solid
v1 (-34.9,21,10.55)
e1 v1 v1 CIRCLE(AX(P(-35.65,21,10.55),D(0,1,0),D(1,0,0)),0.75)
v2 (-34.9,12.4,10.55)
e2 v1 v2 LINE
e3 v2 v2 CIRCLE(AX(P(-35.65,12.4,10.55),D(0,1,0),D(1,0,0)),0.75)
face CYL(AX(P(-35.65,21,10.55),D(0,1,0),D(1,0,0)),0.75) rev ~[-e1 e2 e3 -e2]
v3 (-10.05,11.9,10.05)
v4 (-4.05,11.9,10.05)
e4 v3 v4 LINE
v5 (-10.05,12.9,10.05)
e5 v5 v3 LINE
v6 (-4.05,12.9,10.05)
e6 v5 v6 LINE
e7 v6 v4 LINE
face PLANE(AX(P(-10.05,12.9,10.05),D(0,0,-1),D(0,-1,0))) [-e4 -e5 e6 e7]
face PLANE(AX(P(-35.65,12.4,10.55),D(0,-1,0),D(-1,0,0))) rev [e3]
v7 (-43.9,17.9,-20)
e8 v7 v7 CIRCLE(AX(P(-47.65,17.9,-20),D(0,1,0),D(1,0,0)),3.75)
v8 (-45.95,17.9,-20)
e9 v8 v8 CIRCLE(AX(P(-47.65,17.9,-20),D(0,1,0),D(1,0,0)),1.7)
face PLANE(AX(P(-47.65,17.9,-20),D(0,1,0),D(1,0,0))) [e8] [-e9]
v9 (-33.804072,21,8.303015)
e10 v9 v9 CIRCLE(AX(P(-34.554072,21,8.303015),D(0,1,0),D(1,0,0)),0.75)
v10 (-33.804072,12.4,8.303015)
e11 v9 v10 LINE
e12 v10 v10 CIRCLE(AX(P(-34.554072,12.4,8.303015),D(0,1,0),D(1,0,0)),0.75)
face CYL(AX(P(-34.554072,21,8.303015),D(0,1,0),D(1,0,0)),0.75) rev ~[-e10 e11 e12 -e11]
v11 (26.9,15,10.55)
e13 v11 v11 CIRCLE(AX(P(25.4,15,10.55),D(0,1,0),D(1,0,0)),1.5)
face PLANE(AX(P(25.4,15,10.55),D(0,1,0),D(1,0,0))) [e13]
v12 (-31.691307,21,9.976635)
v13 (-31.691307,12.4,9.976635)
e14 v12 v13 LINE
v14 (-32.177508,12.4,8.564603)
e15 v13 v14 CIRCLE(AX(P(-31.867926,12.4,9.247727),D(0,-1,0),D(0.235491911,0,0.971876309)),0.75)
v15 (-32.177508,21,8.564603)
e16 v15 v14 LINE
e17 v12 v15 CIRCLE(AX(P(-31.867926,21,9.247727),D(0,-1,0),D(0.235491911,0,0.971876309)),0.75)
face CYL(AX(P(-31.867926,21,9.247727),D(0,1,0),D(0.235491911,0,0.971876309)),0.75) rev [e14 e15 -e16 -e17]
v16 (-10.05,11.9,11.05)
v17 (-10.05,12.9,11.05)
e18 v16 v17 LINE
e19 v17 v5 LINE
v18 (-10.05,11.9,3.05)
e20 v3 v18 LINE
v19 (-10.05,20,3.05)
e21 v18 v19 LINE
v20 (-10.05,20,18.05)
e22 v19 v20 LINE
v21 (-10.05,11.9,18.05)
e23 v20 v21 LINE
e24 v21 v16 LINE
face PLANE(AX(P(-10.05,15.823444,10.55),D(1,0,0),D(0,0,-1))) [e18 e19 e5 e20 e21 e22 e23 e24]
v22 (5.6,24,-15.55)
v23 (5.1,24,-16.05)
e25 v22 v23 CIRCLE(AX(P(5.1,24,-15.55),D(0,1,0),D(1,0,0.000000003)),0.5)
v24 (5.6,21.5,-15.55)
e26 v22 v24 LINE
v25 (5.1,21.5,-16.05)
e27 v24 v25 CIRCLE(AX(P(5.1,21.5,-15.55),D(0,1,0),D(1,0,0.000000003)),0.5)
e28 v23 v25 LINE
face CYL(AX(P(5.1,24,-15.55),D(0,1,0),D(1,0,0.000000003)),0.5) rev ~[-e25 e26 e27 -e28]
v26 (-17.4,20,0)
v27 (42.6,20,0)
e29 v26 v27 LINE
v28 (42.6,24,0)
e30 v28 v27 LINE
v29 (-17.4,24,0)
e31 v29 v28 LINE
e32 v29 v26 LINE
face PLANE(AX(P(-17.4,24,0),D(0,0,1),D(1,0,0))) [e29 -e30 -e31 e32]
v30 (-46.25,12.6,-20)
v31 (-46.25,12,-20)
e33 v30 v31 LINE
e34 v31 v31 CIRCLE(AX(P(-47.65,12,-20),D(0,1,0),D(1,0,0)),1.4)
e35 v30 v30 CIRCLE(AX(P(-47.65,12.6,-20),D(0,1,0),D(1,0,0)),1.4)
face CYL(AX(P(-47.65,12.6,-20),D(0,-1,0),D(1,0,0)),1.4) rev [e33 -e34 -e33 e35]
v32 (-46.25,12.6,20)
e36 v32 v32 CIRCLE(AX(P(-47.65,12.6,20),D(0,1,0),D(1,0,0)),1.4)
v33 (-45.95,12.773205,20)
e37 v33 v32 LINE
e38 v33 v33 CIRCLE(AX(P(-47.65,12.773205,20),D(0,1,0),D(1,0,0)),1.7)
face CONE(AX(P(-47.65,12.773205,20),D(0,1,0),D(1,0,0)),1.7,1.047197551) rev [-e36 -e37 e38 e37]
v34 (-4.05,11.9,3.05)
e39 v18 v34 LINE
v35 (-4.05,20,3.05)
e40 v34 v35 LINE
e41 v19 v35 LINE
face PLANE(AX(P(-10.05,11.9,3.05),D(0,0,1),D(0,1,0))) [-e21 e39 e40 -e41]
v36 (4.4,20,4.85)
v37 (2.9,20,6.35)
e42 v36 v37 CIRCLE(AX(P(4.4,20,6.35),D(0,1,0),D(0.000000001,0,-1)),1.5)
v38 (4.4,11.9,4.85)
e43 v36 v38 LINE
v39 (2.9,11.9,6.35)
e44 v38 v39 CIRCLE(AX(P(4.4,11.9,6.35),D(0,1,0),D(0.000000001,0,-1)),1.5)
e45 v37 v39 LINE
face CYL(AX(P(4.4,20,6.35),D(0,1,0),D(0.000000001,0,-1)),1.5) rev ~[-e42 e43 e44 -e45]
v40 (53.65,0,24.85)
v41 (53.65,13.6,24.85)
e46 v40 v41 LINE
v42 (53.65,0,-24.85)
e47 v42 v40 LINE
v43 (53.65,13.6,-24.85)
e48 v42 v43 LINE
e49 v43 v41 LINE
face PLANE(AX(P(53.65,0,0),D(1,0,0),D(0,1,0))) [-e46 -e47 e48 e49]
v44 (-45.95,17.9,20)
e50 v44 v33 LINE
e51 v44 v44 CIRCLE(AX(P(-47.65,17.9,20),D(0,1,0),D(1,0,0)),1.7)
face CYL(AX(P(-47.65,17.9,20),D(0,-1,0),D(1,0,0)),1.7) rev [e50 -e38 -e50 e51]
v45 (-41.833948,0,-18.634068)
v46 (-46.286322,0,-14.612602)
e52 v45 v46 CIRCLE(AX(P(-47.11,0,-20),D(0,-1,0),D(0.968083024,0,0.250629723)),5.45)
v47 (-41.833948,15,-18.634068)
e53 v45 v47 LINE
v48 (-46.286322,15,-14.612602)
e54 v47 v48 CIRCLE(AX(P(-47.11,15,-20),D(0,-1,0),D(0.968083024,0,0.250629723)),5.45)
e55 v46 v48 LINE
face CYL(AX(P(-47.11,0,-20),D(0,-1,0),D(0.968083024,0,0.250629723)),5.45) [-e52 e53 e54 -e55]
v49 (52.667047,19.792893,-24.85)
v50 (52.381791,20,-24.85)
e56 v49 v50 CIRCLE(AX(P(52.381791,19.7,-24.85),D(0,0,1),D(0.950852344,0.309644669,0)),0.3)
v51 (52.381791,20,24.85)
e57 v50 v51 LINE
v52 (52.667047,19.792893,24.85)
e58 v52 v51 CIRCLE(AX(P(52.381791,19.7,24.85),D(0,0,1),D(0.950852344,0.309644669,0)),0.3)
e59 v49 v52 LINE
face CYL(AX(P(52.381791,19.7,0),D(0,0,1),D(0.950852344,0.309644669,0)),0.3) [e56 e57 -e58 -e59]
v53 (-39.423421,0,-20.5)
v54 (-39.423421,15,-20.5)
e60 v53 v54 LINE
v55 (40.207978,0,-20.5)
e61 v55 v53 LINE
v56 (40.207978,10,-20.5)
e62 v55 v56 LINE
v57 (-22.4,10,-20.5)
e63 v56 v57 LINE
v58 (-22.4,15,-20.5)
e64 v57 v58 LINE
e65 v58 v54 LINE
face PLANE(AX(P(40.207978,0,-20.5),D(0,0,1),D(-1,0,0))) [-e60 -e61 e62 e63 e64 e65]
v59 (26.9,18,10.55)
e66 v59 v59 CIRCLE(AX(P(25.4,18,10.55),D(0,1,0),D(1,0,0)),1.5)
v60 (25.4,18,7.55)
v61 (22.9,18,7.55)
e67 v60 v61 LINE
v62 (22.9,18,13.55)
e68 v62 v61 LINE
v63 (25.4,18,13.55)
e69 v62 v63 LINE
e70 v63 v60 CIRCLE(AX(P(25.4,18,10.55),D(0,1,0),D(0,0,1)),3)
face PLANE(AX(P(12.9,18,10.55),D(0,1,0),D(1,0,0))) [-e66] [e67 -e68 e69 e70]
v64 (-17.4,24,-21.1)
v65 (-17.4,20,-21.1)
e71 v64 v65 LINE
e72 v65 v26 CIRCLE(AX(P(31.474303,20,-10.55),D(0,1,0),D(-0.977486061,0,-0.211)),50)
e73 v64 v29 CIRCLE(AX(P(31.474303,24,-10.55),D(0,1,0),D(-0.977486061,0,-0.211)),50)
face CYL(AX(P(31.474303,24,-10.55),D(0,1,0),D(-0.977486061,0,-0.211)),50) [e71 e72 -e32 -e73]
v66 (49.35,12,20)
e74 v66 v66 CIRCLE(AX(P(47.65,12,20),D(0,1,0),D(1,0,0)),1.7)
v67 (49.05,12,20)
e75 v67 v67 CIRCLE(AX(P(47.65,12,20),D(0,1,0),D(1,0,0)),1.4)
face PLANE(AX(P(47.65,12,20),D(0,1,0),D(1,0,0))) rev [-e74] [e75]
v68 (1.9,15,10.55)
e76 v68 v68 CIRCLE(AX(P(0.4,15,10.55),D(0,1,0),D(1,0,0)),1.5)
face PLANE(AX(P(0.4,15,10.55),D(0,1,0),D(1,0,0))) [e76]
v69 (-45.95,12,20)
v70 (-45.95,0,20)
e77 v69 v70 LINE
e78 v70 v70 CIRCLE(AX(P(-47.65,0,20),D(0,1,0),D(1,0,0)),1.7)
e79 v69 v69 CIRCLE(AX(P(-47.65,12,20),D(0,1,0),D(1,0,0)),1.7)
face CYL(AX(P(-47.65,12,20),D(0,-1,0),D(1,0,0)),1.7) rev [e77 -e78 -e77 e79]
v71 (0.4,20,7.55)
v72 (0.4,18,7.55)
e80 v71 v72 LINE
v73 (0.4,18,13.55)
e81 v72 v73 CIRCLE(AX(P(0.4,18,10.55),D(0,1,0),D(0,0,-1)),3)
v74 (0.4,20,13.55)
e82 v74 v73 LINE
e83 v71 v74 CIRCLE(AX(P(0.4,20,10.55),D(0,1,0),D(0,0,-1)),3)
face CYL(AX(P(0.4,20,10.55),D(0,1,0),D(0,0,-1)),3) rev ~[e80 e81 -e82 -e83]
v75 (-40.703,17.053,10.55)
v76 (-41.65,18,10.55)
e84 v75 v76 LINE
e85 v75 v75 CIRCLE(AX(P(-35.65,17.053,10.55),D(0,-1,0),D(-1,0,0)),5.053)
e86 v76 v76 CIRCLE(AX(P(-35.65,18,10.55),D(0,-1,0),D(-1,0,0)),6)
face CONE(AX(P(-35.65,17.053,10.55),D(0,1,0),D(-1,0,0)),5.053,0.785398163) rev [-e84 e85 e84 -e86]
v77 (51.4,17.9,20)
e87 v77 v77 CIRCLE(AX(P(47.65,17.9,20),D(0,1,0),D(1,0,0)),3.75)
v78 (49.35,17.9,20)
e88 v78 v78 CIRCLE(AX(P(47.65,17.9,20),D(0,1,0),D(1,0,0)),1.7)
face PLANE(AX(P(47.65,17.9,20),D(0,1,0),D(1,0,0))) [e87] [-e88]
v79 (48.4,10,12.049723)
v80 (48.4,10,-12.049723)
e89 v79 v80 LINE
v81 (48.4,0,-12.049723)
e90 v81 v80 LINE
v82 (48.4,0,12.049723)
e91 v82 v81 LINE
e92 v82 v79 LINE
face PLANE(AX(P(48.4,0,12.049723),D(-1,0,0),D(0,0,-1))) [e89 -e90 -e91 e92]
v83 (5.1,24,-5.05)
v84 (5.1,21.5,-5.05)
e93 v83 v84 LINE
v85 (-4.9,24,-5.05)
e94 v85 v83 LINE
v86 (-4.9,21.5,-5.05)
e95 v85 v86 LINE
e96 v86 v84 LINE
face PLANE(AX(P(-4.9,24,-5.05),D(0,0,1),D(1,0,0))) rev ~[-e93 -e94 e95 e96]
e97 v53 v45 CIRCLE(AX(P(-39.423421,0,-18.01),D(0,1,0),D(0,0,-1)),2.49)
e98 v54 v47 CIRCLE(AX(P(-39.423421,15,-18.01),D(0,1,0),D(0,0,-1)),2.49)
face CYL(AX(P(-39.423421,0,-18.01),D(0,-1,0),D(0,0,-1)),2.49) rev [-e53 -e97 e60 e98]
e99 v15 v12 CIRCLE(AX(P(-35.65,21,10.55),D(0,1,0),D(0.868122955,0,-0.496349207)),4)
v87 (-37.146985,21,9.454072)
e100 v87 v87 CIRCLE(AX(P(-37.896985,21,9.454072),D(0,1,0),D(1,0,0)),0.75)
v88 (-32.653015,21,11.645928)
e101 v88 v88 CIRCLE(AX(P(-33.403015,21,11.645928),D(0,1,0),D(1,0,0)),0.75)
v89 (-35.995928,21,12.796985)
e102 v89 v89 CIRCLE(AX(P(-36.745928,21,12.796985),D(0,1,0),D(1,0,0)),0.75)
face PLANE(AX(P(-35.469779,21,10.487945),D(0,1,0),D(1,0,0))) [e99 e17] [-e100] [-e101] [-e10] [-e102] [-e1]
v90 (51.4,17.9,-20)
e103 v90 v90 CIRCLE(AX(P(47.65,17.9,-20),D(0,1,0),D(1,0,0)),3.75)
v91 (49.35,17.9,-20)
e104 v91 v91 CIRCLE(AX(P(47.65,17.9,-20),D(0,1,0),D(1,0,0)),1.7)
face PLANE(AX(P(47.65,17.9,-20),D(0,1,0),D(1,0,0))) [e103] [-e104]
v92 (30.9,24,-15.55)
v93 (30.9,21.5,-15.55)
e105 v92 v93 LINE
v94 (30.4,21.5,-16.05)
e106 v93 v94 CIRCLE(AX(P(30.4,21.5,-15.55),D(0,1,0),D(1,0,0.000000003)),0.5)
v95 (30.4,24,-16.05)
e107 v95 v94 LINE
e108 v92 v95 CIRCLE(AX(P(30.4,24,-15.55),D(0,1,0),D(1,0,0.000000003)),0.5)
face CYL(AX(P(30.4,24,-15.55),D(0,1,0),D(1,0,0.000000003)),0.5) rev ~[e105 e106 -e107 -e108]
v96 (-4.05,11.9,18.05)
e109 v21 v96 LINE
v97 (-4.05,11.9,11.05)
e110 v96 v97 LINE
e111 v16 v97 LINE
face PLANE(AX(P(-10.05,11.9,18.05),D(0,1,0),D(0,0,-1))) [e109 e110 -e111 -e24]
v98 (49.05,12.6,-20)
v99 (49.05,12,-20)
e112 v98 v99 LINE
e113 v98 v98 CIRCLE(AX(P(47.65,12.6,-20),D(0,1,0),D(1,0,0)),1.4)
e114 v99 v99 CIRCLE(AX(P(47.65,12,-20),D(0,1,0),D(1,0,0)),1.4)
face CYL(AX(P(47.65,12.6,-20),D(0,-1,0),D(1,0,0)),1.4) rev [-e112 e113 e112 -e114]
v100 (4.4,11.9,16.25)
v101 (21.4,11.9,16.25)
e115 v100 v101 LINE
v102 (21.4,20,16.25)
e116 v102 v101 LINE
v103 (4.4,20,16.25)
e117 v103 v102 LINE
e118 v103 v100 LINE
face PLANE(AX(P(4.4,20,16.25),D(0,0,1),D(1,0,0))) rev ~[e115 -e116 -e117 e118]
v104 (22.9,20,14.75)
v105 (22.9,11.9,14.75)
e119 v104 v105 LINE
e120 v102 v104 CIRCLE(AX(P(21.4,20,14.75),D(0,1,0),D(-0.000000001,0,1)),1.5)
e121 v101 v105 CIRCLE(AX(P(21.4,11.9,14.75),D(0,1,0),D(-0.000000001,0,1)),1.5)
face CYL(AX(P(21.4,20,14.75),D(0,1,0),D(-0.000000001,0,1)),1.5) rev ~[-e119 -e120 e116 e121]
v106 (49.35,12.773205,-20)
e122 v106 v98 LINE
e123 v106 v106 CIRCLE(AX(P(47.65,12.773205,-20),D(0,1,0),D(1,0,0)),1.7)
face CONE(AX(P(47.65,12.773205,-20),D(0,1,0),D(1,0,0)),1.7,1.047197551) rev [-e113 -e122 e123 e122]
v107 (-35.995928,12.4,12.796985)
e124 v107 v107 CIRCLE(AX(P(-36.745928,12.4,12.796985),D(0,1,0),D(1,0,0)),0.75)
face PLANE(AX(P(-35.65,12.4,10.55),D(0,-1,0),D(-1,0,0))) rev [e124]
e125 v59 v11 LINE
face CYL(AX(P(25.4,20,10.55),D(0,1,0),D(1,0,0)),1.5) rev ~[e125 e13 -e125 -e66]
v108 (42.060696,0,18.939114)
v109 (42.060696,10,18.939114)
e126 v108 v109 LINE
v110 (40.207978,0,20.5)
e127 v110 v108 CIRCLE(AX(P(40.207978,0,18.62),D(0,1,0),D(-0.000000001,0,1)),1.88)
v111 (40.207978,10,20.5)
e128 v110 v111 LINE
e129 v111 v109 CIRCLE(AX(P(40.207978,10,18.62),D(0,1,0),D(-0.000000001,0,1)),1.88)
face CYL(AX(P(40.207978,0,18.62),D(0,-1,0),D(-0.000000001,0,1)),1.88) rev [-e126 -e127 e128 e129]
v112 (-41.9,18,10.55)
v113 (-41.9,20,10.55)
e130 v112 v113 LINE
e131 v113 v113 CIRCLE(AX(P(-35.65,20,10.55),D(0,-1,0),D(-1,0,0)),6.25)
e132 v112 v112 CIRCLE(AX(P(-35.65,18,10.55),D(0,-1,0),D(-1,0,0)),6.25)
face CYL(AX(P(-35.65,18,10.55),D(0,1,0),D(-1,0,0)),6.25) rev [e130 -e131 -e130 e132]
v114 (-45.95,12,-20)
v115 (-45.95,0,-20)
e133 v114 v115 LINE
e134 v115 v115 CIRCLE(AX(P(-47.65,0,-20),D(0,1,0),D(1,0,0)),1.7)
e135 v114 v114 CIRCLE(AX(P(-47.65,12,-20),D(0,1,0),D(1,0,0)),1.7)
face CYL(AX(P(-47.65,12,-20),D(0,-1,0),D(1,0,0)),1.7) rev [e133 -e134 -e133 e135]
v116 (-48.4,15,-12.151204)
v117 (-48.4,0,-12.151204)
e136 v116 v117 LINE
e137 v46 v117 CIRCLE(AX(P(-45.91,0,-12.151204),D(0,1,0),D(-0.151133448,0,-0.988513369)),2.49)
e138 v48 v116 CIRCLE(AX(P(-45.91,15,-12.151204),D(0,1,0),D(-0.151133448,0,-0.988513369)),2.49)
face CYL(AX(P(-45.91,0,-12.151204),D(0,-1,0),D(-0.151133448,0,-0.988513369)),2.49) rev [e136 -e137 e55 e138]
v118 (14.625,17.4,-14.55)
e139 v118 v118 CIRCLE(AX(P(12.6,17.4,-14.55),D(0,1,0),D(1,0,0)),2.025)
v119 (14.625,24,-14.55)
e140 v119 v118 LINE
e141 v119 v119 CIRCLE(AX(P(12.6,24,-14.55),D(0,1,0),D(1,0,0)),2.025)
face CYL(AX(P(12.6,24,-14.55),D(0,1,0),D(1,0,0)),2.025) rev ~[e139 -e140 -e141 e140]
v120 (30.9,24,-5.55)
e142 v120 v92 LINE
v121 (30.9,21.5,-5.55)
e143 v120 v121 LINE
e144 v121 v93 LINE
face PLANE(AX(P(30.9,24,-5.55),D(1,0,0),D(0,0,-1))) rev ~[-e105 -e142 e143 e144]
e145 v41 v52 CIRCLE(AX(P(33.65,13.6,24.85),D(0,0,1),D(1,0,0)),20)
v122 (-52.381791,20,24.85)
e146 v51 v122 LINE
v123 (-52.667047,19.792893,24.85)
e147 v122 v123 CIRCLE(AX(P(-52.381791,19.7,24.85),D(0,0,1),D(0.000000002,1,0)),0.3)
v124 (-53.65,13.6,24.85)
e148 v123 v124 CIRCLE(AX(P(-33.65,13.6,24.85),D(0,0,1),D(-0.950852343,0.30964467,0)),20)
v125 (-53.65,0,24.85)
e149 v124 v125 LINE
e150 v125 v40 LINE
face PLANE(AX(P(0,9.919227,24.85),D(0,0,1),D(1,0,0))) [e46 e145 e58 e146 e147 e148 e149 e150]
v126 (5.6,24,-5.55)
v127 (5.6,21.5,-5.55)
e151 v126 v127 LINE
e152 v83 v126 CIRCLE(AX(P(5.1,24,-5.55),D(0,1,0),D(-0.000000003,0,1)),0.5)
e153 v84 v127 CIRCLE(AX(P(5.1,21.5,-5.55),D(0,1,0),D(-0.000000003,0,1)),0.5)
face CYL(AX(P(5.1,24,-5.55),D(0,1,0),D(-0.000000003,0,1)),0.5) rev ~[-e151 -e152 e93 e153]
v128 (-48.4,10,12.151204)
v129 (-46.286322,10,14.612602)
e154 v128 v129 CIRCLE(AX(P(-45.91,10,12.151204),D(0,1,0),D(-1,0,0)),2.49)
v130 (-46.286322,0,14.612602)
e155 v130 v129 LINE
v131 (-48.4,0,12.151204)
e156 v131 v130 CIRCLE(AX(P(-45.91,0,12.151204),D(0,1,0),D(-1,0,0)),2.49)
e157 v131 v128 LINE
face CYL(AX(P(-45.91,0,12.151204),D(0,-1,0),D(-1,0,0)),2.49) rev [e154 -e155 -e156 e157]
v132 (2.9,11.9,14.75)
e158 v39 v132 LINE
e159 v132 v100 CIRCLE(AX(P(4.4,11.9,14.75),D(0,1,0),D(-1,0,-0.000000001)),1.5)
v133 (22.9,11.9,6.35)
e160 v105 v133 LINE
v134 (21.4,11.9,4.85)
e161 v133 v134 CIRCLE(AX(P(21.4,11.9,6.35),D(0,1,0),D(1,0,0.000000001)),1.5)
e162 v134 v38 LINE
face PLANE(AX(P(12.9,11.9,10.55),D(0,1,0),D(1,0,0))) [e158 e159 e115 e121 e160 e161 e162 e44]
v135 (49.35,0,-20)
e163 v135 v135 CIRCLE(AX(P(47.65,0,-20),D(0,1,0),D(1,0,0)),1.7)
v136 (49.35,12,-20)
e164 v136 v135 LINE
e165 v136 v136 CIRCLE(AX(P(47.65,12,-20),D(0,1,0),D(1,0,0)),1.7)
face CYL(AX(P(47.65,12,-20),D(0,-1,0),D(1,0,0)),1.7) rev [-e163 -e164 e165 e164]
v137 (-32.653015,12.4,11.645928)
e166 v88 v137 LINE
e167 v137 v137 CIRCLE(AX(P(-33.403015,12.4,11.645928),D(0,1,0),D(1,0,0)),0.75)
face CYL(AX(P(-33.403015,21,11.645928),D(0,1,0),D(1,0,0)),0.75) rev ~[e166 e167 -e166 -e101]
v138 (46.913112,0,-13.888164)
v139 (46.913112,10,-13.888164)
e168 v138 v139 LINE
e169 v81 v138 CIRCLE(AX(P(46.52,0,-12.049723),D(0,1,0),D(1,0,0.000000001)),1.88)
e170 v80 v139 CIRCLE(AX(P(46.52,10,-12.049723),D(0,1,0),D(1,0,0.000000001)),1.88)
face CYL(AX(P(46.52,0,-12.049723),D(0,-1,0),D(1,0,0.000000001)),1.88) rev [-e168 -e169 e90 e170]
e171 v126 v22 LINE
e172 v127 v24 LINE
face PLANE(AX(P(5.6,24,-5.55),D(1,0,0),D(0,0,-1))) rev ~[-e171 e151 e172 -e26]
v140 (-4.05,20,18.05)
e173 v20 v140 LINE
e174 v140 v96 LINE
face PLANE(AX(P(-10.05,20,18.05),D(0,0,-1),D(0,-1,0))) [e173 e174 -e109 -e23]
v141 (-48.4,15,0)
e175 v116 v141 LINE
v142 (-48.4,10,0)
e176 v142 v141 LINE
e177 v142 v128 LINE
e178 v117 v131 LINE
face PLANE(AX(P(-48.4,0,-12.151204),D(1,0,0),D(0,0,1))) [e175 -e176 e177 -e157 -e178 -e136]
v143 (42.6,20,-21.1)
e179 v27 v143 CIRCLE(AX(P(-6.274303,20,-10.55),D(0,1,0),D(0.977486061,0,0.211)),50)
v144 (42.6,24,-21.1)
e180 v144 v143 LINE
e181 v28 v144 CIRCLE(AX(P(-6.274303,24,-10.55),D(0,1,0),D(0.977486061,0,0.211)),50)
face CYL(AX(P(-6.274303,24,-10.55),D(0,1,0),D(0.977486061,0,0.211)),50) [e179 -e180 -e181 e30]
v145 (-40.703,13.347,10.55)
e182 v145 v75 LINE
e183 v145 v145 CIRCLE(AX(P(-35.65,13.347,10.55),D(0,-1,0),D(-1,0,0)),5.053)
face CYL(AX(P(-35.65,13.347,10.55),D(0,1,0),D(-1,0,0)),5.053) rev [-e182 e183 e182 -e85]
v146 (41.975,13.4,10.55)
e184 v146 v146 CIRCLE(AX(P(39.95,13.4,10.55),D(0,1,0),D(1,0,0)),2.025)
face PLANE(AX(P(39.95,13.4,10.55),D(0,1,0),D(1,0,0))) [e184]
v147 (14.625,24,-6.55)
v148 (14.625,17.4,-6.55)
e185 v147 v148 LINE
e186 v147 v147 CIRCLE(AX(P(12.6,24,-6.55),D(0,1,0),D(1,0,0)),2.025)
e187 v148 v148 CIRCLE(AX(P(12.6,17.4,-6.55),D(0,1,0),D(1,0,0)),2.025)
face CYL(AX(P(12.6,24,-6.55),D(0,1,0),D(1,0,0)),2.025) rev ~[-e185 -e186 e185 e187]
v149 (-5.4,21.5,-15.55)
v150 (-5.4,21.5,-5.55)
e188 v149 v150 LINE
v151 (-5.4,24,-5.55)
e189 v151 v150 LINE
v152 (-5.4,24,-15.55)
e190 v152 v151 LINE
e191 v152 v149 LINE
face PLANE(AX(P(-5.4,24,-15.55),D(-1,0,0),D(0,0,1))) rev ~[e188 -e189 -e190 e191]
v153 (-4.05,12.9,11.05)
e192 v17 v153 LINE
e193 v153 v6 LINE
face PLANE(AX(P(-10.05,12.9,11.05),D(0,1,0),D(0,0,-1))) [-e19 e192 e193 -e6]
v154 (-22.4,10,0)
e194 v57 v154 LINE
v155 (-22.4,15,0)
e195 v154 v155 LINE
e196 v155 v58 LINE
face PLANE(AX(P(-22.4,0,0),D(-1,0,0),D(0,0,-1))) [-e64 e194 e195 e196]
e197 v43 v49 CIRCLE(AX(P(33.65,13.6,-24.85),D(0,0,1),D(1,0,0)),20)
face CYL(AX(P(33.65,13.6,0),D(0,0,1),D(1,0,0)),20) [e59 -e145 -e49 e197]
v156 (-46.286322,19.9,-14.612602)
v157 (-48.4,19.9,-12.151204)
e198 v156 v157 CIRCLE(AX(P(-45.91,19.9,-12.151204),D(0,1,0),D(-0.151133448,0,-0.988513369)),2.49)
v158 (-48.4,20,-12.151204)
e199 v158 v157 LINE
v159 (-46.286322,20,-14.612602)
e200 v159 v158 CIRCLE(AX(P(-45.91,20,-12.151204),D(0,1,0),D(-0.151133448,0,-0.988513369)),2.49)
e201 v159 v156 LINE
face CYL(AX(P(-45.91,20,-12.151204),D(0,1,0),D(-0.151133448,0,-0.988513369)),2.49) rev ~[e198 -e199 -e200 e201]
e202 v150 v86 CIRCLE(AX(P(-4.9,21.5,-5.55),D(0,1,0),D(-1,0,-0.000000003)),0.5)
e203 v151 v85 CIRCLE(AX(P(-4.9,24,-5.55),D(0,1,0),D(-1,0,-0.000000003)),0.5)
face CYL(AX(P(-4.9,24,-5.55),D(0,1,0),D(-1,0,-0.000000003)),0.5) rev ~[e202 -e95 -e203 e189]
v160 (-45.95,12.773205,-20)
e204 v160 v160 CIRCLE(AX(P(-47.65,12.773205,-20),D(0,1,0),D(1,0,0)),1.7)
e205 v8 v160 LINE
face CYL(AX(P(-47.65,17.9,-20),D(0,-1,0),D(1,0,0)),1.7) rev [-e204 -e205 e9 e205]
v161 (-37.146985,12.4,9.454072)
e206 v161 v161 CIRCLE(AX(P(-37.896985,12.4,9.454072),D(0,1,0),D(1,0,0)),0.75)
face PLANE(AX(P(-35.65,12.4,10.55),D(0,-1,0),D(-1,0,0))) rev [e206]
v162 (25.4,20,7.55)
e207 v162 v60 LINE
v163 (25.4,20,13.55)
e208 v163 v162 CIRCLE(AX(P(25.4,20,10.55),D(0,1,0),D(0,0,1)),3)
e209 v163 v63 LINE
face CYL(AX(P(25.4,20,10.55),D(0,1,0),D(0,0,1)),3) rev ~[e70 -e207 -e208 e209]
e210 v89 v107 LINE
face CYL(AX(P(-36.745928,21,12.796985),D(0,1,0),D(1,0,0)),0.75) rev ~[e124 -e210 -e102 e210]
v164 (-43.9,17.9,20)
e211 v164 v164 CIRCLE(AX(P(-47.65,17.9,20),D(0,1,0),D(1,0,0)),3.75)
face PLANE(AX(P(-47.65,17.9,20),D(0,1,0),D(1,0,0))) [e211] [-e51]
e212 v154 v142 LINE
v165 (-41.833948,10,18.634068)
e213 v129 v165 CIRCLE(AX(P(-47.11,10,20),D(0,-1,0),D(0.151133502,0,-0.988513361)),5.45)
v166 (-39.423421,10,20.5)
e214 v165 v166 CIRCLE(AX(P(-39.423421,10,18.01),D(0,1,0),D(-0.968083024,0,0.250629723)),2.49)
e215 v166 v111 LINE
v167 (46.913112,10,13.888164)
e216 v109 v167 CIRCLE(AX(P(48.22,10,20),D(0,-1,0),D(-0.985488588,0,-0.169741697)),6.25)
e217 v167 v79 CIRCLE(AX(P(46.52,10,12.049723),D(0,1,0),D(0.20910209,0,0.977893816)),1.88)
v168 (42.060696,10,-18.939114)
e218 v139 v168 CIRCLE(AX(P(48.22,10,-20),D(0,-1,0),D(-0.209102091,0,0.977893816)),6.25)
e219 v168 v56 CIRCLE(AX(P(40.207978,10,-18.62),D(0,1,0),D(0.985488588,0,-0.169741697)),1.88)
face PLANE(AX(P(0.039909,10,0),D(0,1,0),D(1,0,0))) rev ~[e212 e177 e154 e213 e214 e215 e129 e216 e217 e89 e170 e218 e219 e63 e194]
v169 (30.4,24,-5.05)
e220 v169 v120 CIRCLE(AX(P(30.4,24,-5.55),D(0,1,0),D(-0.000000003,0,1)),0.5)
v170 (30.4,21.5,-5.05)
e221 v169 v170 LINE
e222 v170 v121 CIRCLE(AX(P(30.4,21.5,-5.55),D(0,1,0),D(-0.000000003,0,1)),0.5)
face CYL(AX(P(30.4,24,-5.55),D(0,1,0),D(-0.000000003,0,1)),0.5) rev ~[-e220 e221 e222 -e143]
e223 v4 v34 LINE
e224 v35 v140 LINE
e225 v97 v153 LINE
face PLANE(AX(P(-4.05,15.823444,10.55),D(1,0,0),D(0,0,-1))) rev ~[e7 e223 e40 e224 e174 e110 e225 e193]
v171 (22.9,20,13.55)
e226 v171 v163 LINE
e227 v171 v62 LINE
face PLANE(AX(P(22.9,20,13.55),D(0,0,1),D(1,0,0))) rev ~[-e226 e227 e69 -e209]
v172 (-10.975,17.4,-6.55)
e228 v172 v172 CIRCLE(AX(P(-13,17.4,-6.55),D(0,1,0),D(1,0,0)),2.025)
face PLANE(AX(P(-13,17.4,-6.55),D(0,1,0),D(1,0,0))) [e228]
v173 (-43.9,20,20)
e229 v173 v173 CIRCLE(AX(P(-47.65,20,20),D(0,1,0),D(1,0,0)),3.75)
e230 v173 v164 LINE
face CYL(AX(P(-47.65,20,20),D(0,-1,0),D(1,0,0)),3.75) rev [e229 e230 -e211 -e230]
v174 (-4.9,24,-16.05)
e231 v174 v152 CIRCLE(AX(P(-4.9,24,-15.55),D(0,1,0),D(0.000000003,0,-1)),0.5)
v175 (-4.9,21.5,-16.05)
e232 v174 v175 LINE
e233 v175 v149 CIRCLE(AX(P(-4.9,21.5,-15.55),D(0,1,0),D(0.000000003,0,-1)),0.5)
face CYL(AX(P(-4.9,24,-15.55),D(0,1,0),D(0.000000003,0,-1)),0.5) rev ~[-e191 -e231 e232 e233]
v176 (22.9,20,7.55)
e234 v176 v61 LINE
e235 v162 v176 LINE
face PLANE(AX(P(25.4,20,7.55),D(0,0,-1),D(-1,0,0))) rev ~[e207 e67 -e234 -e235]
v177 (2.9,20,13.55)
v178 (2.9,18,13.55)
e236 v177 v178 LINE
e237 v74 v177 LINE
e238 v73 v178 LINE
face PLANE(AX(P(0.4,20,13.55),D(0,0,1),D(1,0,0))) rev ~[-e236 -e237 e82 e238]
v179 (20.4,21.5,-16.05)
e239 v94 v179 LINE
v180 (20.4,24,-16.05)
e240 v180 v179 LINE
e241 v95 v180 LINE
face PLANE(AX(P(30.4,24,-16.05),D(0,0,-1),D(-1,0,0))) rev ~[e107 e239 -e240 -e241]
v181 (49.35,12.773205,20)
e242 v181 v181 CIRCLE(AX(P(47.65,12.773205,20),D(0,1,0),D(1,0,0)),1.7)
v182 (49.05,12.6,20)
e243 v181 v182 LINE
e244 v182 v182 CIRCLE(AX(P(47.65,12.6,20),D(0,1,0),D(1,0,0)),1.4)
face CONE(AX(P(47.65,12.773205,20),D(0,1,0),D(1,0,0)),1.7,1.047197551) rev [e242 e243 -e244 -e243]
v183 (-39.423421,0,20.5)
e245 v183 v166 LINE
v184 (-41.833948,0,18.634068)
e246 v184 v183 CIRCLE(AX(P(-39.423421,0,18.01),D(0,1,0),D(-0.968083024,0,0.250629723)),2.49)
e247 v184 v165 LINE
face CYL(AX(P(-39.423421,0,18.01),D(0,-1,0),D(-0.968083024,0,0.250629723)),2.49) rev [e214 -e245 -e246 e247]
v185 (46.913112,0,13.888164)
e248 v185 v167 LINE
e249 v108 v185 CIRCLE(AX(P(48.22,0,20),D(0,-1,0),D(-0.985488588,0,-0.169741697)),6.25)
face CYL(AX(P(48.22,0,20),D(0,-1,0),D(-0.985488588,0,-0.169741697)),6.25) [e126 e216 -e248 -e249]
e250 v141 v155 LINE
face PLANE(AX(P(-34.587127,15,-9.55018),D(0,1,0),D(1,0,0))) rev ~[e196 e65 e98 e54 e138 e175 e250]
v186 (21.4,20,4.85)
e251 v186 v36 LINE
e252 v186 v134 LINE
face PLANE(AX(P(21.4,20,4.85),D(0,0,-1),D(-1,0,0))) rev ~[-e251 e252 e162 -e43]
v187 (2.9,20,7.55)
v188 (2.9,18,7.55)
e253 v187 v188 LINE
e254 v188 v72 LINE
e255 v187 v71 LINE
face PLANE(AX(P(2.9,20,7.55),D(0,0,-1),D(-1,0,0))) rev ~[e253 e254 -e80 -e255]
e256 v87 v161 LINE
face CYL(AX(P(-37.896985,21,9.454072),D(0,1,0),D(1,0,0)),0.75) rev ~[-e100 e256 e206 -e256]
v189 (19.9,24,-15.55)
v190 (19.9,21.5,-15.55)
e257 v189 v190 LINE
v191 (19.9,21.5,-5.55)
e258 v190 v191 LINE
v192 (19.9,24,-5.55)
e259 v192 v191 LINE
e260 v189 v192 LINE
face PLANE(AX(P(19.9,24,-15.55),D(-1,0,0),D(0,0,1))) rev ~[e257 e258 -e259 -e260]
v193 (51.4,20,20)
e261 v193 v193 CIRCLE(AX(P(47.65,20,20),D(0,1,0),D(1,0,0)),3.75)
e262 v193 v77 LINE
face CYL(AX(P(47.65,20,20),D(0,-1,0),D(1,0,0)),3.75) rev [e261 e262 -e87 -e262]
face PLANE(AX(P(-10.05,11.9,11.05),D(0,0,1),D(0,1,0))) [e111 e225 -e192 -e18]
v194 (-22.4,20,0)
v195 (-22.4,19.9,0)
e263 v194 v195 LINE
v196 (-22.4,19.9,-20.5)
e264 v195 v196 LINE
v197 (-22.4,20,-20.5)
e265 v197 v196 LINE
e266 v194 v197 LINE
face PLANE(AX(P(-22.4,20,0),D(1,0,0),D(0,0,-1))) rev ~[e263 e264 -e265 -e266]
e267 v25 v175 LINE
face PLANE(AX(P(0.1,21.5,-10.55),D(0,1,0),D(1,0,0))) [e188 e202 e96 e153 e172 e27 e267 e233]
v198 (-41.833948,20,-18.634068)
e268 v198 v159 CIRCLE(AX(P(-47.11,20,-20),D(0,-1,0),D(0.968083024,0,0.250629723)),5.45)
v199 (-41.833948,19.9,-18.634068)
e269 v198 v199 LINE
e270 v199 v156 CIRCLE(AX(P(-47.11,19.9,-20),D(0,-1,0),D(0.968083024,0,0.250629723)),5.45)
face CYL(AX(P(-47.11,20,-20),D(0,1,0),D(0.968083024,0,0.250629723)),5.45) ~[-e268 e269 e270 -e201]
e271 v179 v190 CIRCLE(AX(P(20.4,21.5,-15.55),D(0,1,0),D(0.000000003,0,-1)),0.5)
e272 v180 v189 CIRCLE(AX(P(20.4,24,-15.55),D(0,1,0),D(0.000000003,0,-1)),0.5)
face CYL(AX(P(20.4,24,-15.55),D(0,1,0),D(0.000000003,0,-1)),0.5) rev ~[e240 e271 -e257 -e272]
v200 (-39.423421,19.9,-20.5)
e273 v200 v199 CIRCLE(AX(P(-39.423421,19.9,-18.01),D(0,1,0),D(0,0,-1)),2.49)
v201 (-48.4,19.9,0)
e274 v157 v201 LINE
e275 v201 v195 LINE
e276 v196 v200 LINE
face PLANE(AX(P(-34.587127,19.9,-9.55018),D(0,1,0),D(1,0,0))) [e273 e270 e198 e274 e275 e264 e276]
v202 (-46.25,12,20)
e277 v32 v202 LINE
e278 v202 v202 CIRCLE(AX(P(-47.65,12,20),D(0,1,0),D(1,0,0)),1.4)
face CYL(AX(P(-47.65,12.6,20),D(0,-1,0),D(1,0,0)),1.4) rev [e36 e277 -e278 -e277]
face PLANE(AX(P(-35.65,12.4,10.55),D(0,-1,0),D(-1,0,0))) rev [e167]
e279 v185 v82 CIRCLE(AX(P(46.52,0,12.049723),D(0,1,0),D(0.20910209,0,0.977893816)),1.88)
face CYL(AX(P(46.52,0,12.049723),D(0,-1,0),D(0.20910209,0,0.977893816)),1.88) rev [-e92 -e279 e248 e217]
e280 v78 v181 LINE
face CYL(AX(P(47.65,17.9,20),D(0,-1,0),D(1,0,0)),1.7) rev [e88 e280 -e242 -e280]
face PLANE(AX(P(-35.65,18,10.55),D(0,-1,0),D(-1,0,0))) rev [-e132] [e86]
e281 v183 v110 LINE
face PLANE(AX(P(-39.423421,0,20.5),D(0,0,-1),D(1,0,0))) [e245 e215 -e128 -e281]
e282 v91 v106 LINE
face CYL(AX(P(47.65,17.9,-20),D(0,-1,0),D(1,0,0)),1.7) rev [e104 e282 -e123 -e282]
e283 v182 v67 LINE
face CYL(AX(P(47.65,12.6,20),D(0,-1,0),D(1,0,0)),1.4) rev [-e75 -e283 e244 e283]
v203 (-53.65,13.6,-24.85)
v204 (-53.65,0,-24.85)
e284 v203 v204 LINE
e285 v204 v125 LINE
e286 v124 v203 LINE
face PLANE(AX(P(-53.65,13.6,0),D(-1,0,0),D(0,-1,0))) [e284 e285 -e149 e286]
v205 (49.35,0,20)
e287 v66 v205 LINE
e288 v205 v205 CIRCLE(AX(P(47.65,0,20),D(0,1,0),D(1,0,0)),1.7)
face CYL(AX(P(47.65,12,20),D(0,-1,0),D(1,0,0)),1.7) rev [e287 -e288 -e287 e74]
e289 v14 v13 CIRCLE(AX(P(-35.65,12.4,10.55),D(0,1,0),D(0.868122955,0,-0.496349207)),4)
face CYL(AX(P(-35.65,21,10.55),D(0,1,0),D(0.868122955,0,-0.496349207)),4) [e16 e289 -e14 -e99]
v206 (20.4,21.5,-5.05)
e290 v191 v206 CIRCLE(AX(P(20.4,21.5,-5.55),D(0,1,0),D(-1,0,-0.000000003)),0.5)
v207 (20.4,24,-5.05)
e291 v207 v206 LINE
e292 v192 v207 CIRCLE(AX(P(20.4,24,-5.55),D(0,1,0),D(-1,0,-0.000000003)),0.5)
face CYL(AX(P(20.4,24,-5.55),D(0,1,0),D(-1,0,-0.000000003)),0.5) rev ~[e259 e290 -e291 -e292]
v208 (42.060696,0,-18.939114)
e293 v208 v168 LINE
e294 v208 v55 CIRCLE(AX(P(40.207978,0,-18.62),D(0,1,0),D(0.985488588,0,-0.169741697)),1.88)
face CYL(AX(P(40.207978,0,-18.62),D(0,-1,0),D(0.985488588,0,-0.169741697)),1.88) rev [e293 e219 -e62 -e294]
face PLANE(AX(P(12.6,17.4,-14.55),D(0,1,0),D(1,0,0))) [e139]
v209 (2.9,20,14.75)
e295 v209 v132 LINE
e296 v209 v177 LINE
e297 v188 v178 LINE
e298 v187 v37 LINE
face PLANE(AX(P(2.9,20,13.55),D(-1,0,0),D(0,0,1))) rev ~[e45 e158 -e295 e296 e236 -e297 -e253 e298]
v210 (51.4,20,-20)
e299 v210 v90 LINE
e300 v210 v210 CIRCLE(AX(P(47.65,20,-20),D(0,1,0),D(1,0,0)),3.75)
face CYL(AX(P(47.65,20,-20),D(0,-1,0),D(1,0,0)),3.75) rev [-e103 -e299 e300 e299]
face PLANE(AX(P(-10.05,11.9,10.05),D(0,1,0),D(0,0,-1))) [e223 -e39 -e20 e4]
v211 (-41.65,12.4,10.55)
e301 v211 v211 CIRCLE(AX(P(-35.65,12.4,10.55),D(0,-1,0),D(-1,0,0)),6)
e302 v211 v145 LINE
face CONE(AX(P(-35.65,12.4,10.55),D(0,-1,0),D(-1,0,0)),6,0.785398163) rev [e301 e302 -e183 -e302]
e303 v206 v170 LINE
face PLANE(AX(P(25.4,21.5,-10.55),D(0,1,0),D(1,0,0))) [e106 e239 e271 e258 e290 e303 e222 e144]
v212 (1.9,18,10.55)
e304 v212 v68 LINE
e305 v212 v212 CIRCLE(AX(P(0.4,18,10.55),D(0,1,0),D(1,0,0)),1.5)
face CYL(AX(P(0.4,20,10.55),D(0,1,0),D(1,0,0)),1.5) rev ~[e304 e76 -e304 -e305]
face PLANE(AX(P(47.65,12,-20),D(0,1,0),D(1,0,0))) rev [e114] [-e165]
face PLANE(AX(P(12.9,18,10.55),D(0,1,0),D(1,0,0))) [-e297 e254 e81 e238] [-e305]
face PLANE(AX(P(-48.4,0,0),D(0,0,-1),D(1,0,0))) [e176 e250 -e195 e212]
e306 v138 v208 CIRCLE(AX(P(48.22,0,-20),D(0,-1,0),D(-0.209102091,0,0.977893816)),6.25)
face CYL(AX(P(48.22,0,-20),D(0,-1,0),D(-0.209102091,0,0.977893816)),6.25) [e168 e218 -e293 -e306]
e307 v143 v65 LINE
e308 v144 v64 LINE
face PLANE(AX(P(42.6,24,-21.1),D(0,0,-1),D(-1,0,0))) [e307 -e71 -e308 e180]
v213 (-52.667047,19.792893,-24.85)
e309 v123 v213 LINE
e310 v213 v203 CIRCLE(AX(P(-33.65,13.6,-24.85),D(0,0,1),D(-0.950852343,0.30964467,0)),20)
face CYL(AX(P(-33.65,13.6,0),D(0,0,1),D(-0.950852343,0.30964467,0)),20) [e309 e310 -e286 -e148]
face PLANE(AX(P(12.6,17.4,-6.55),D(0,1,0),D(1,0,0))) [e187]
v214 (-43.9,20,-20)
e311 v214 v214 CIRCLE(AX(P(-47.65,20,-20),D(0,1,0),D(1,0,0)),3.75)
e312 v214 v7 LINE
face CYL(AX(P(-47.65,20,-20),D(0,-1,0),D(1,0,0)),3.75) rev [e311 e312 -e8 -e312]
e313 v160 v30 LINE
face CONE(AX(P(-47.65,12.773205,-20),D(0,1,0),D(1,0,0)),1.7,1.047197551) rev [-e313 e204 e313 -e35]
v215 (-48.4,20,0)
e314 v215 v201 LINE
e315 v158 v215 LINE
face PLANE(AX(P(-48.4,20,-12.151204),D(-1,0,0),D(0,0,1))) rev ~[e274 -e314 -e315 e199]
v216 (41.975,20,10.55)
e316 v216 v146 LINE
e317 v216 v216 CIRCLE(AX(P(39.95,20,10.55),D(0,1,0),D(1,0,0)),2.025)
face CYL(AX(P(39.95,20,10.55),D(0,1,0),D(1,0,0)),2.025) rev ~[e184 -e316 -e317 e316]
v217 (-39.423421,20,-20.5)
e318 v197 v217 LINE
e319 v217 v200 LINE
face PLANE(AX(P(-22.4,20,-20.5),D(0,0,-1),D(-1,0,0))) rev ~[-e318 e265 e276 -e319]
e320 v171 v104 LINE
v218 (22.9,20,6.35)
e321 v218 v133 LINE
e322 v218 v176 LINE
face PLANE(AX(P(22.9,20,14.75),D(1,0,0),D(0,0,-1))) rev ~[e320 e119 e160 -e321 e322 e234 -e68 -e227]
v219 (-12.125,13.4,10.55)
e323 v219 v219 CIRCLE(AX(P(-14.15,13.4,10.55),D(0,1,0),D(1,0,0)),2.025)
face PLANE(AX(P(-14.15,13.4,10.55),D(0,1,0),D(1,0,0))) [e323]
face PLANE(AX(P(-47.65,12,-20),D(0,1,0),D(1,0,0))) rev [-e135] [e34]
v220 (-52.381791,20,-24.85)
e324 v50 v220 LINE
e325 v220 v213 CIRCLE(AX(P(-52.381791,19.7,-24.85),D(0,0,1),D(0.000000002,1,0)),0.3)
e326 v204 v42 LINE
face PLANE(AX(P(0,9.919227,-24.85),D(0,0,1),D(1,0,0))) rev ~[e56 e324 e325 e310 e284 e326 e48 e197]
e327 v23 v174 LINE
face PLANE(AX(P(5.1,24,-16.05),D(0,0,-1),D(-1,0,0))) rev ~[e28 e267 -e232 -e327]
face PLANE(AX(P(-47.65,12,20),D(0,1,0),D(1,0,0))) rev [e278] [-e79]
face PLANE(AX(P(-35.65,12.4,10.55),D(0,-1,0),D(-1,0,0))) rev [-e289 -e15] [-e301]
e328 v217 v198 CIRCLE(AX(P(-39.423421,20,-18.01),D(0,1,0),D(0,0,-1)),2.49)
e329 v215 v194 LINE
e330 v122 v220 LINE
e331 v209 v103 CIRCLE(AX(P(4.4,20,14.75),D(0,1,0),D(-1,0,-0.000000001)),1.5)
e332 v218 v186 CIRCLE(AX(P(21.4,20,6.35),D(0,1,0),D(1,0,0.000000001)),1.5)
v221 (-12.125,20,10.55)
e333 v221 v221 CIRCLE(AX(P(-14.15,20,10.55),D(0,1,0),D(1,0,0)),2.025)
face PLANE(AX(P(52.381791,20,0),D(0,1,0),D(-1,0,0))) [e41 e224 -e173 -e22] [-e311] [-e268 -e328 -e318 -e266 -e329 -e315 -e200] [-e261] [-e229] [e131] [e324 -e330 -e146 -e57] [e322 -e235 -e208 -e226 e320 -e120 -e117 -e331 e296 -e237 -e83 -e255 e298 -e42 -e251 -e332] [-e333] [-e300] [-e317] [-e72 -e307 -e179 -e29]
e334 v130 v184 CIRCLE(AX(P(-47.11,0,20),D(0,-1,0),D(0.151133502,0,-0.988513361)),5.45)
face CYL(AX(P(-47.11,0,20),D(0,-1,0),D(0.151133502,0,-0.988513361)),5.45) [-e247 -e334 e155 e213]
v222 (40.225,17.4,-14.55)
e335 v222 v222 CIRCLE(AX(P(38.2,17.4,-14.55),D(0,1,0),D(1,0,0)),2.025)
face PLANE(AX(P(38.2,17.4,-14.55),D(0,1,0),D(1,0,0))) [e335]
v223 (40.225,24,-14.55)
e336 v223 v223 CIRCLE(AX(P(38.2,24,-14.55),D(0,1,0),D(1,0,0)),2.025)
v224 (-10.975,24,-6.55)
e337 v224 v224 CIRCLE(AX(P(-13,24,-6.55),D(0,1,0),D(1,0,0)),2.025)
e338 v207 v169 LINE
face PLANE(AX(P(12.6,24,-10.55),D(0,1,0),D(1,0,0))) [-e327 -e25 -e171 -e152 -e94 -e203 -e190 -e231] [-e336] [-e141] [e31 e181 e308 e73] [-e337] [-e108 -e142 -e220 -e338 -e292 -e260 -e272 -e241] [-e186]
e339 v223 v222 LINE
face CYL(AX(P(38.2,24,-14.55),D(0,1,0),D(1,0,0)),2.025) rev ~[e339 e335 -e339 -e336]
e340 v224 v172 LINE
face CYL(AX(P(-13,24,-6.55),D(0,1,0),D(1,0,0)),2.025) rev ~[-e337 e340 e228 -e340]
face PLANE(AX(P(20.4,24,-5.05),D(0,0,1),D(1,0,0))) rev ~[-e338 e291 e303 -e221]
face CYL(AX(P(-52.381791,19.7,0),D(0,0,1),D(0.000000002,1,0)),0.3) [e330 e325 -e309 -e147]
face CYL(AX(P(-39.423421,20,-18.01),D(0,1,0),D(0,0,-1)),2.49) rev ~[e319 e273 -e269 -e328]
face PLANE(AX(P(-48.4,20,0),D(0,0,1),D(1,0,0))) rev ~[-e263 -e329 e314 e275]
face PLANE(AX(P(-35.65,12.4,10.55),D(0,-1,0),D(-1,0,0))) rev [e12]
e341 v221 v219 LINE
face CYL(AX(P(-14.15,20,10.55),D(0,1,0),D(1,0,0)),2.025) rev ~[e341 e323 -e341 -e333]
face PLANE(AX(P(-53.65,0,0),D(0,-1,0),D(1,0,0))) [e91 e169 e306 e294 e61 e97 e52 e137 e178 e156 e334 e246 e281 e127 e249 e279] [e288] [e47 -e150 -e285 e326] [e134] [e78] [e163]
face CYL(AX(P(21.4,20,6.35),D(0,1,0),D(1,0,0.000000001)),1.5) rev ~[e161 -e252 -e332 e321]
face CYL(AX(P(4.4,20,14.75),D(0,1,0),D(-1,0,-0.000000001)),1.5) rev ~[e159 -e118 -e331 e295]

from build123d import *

# Parameters (mm, degrees)
BOSS_EXTRUDE1_DEPTH      = 24.85
BOSS_EXTRUDE1_DEPTH_BACK = 24.85
SKETCH7_R                = 0.75
BOSS_EXTRUDE2_DEPTH      = 8.6
BOSS_EXTRUDE3_DEPTH      = 4
SKETCH9_R                = 2.025
CUT_EXTRUDE1_DEPTH       = 6.6
SKETCH10_R               = 2.025
CUT_EXTRUDE2_DEPTH       = 6.6
SKETCH11_R               = 2.025
CUT_EXTRUDE3_DEPTH       = 6.6
SKETCH12_R               = 2.025
CUT_EXTRUDE4_DEPTH       = 6.6
SKETCH13_R               = 2.025
CUT_EXTRUDE5_DEPTH       = 6.6
SKETCH14_R               = 2.025
CUT_EXTRUDE6_DEPTH       = 6.6
CUT_EXTRUDE7_DEPTH       = 2
CUT_EXTRUDE8_DEPTH       = 8.1
SKETCH17_R               = 1.5
CUT_EXTRUDE9_DEPTH       = 5
SKETCH18_R               = 1.5
CUT_EXTRUDE10_DEPTH      = 5
CUT_EXTRUDE11_DEPTH      = 2.5
CUT_EXTRUDE12_DEPTH      = 2.5
CUT_EXTRUDE13_DEPTH      = 6
CUT_EXTRUDE14_DEPTH      = 10
CUT_EXTRUDE15_DEPTH      = 15
CUT_EXTRUDE16_START      = -0.1
CUT_EXTRUDE16_DEPTH      = 0.1


with BuildPart() as part:
    # Sketch1 → Boss-Extrude1 (new, two sides: drawn at the far end of the back side and taken through both)
    with BuildSketch(Plane.XY.offset(-BOSS_EXTRUDE1_DEPTH_BACK)):
        with BuildLine():
            Line((-53.65, 13.6), (-53.65, 0))
            Line((-53.65, 0), (53.65, 0))
            Line((53.65, 0), (53.65, 13.6))
            ThreePointArc((53.65, 13.6), (53.402733193, 16.735208348), (52.667046861, 19.792893401))
            ThreePointArc((52.667046861, 19.792893401), (52.558046626, 19.94276328), (52.381791158, 20))
            Line((52.381791158, 20), (-52.381791158, 20))
            ThreePointArc((-52.381791158, 20), (-52.558046626, 19.94276328), (-52.667046861, 19.792893401))
            ThreePointArc((-52.667046861, 19.792893401), (-53.402733193, 16.735208348), (-53.65, 13.6))
        make_face()
    extrude(amount=BOSS_EXTRUDE1_DEPTH + BOSS_EXTRUDE1_DEPTH_BACK)

    # Sketch2 → Cut-Revolve1 (revolve, cut)
    with BuildSketch(Plane.XY.offset(20)):
        Polygon((47.65, 20), (51.4, 20), (51.4, 17.9), (49.35, 17.9), (49.35, 12.773205081), (49.05, 12.6), (49.05, 12), (49.35, 12), (49.35, 0), (47.65, 0), align=None)
    revolve(axis=Axis((47.65, 0, 20), (0, 1, 0)), mode=Mode.SUBTRACT)

    # Sketch3 → Cut-Revolve2 (revolve, cut)
    with BuildSketch(Plane.XY.offset(-20)):
        Polygon((47.65, 20), (51.4, 20), (51.4, 17.9), (49.35, 17.9), (49.35, 12.773205081), (49.05, 12.6), (49.05, 12), (49.35, 12), (49.35, 0), (47.65, 0), align=None)
    revolve(axis=Axis((47.65, 0, -20), (0, 1, 0)), mode=Mode.SUBTRACT)

    # Sketch4 → Cut-Revolve3 (revolve, cut)
    with BuildSketch(Plane.XY.offset(-20)):
        Polygon((-47.65, 20), (-43.9, 20), (-43.9, 17.9), (-45.95, 17.9), (-45.95, 12.773205081), (-46.25, 12.6), (-46.25, 12), (-45.95, 12), (-45.95, 0), (-47.65, 0), align=None)
    revolve(axis=Axis((-47.65, 0, -20), (0, 1, 0)), mode=Mode.SUBTRACT)

    # Sketch5 → Cut-Revolve4 (revolve, cut)
    with BuildSketch(Plane.XY.offset(20)):
        Polygon((-47.65, 20), (-43.9, 20), (-43.9, 17.9), (-45.95, 17.9), (-45.95, 12.773205081), (-46.25, 12.6), (-46.25, 12), (-45.95, 12), (-45.95, 0), (-47.65, 0), align=None)
    revolve(axis=Axis((-47.65, 0, 20), (0, 1, 0)), mode=Mode.SUBTRACT)

    # Sketch6 → Cut-Revolve5 (revolve, cut)
    with BuildSketch(Plane.XY.offset(10.55)):
        Polygon((-35.65, 12.4), (-41.65, 12.4), (-40.703, 13.347), (-40.703, 17.053), (-41.65, 18), (-41.9, 18), (-41.9, 20), (-35.65, 20), align=None)
    revolve(axis=Axis((-35.65, 20, 10.55), (0, -1, 0)), mode=Mode.SUBTRACT)

    # Sketch7 → Boss-Extrude2 (add)
    with BuildSketch(Plane(origin=(0, 21, 0), x_dir=(1, 0, 0), z_dir=(0, 1, 0))):
        with BuildLine():
            ThreePointArc((-32.177508181, -8.564603172), (-39.432074302, -11.852272618), (-31.691306764, -9.976634614))
            ThreePointArc((-31.691306764, -9.976634614), (-32.577064629, -9.491903498), (-32.177508181, -8.564603172))
        make_face()
        with Locations((-33.403014884, -11.645927867)):
            Circle(SKETCH7_R, mode=Mode.SUBTRACT)
        with Locations((-34.554072133, -8.303014884)):
            Circle(SKETCH7_R, mode=Mode.SUBTRACT)
        with Locations((-35.65, -10.55)):
            Circle(SKETCH7_R, mode=Mode.SUBTRACT)
        with Locations((-36.745927867, -12.796985116)):
            Circle(SKETCH7_R, mode=Mode.SUBTRACT)
        with Locations((-37.896985116, -9.454072133)):
            Circle(SKETCH7_R, mode=Mode.SUBTRACT)
    extrude(amount=-BOSS_EXTRUDE2_DEPTH)

    # Sketch8 → Boss-Extrude3 (add)
    with BuildSketch(Plane(origin=(0, 24, 0), x_dir=(1, 0, 0), z_dir=(0, 1, 0))):
        with BuildLine():
            Line((-17.4, 0), (42.6, 0))
            ThreePointArc((42.6, 0), (43.725696936, 10.55), (42.6, 21.1))
            Line((42.6, 21.1), (-17.4, 21.1))
            ThreePointArc((-17.4, 21.1), (-18.525696936, 10.55), (-17.4, 0))
        make_face()
    extrude(amount=-BOSS_EXTRUDE3_DEPTH)

    # Sketch9 → Cut-Extrude1 (cut)
    with BuildSketch(Plane(origin=(0, 24, 0), x_dir=(1, 0, 0), z_dir=(0, 1, 0))):
        with Locations((-13, 6.55)):
            Circle(SKETCH9_R)
    extrude(amount=-CUT_EXTRUDE1_DEPTH, mode=Mode.SUBTRACT)

    # Sketch10 → Cut-Extrude2 (cut)
    with BuildSketch(Plane(origin=(0, 24, 0), x_dir=(1, 0, 0), z_dir=(0, 1, 0))):
        with Locations((12.6, 14.55)):
            Circle(SKETCH10_R)
    extrude(amount=-CUT_EXTRUDE2_DEPTH, mode=Mode.SUBTRACT)

    # Sketch11 → Cut-Extrude3 (cut)
    with BuildSketch(Plane(origin=(0, 24, 0), x_dir=(1, 0, 0), z_dir=(0, 1, 0))):
        with Locations((12.6, 6.55)):
            Circle(SKETCH11_R)
    extrude(amount=-CUT_EXTRUDE3_DEPTH, mode=Mode.SUBTRACT)

    # Sketch12 → Cut-Extrude4 (cut)
    with BuildSketch(Plane(origin=(0, 24, 0), x_dir=(1, 0, 0), z_dir=(0, 1, 0))):
        with Locations((38.2, 14.55)):
            Circle(SKETCH12_R)
    extrude(amount=-CUT_EXTRUDE4_DEPTH, mode=Mode.SUBTRACT)

    # Sketch13 → Cut-Extrude5 (cut)
    with BuildSketch(Plane(origin=(0, 20, 0), x_dir=(1, 0, 0), z_dir=(0, 1, 0))):
        with Locations((-14.15, -10.55)):
            Circle(SKETCH13_R)
    extrude(amount=-CUT_EXTRUDE5_DEPTH, mode=Mode.SUBTRACT)

    # Sketch14 → Cut-Extrude6 (cut)
    with BuildSketch(Plane(origin=(0, 20, 0), x_dir=(1, 0, 0), z_dir=(0, 1, 0))):
        with Locations((39.95, -10.55)):
            Circle(SKETCH14_R)
    extrude(amount=-CUT_EXTRUDE6_DEPTH, mode=Mode.SUBTRACT)

    # Sketch15 → Cut-Extrude7 (cut)
    with BuildSketch(Plane(origin=(0, 20, 0), x_dir=(1, 0, 0), z_dir=(0, 1, 0))):
        with BuildLine():
            Line((0.4, -13.55), (2.9, -13.55))
            Line((2.9, -13.55), (2.9, -14.55))
            ThreePointArc((2.9, -14.55), (3.192893219, -15.257106781), (3.9, -15.55))
            Line((3.9, -15.55), (21.9, -15.55))
            ThreePointArc((21.9, -15.55), (22.607106781, -15.257106781), (22.9, -14.55))
            Line((22.9, -14.55), (22.9, -13.55))
            Line((22.9, -13.55), (25.4, -13.55))
            ThreePointArc((25.4, -13.55), (28.4, -10.55), (25.4, -7.55))
            Line((25.4, -7.55), (22.9, -7.55))
            Line((22.9, -7.55), (22.9, -6.55))
            ThreePointArc((22.9, -6.55), (22.607106781, -5.842893219), (21.9, -5.55))
            Line((21.9, -5.55), (3.9, -5.55))
            ThreePointArc((3.9, -5.55), (3.192893219, -5.842893219), (2.9, -6.55))
            Line((2.9, -6.55), (2.9, -7.55))
            Line((2.9, -7.55), (0.4, -7.55))
            ThreePointArc((0.4, -7.55), (-2.6, -10.55), (0.4, -13.55))
        make_face()
    extrude(amount=-CUT_EXTRUDE7_DEPTH, mode=Mode.SUBTRACT)

    # Sketch16 → Cut-Extrude8 (cut)
    with BuildSketch(Plane(origin=(0, 20, 0), x_dir=(1, 0, 0), z_dir=(0, 1, 0))):
        with BuildLine():
            Line((2.9, -6.35), (2.9, -14.75))
            ThreePointArc((2.9, -14.75), (3.339339828, -15.810660172), (4.4, -16.25))
            Line((4.4, -16.25), (21.4, -16.25))
            ThreePointArc((21.4, -16.25), (22.460660172, -15.810660172), (22.9, -14.75))
            Line((22.9, -14.75), (22.9, -6.35))
            ThreePointArc((22.9, -6.35), (22.460660172, -5.289339828), (21.4, -4.85))
            Line((21.4, -4.85), (4.4, -4.85))
            ThreePointArc((4.4, -4.85), (3.339339828, -5.289339828), (2.9, -6.35))
        make_face()
    extrude(amount=-CUT_EXTRUDE8_DEPTH, mode=Mode.SUBTRACT)

    # Sketch17 → Cut-Extrude9 (cut)
    with BuildSketch(Plane(origin=(0, 20, 0), x_dir=(1, 0, 0), z_dir=(0, 1, 0))):
        with Locations((25.4, -10.55)):
            Circle(SKETCH17_R)
    extrude(amount=-CUT_EXTRUDE9_DEPTH, mode=Mode.SUBTRACT)

    # Sketch18 → Cut-Extrude10 (cut)
    with BuildSketch(Plane(origin=(0, 20, 0), x_dir=(1, 0, 0), z_dir=(0, 1, 0))):
        with Locations((0.4, -10.55)):
            Circle(SKETCH18_R)
    extrude(amount=-CUT_EXTRUDE10_DEPTH, mode=Mode.SUBTRACT)

    # Sketch19 → Cut-Extrude11 (cut)
    with BuildSketch(Plane(origin=(0, 24, 0), x_dir=(1, 0, 0), z_dir=(0, 1, 0))):
        with BuildLine():
            Line((-5.4, 15.55), (-5.4, 5.55))
            ThreePointArc((-5.4, 5.55), (-5.253553391, 5.196446609), (-4.9, 5.05))
            Line((-4.9, 5.05), (5.1, 5.05))
            ThreePointArc((5.1, 5.05), (5.453553391, 5.196446609), (5.6, 5.55))
            Line((5.6, 5.55), (5.6, 15.55))
            ThreePointArc((5.6, 15.55), (5.453553391, 15.903553391), (5.1, 16.05))
            Line((5.1, 16.05), (-4.9, 16.05))
            ThreePointArc((-4.9, 16.05), (-5.253553391, 15.903553391), (-5.4, 15.55))
        make_face()
    extrude(amount=-CUT_EXTRUDE11_DEPTH, mode=Mode.SUBTRACT)

    # Sketch20 → Cut-Extrude12 (cut)
    with BuildSketch(Plane(origin=(0, 24, 0), x_dir=(1, 0, 0), z_dir=(0, 1, 0))):
        with BuildLine():
            Line((19.9, 15.55), (19.9, 5.55))
            ThreePointArc((19.9, 5.55), (20.046446609, 5.196446609), (20.4, 5.05))
            Line((20.4, 5.05), (30.4, 5.05))
            ThreePointArc((30.4, 5.05), (30.753553391, 5.196446609), (30.9, 5.55))
            Line((30.9, 5.55), (30.9, 15.55))
            ThreePointArc((30.9, 15.55), (30.753553391, 15.903553391), (30.4, 16.05))
            Line((30.4, 16.05), (20.4, 16.05))
            ThreePointArc((20.4, 16.05), (20.046446609, 15.903553391), (19.9, 15.55))
        make_face()
    extrude(amount=-CUT_EXTRUDE12_DEPTH, mode=Mode.SUBTRACT)

    # Sketch21 → Cut-Extrude13 (cut)
    with BuildSketch(Plane(origin=(-10.05, 0, 0), x_dir=(0, 0, -1), z_dir=(1, 0, 0))):
        Polygon((-18.05, 11.9), (-11.05, 11.9), (-11.05, 12.9), (-10.05, 12.9), (-10.05, 11.9), (-3.05, 11.9), (-3.05, 20), (-18.05, 20), align=None)
    extrude(amount=CUT_EXTRUDE13_DEPTH, mode=Mode.SUBTRACT)

    # Sketch22 → Cut-Extrude14 (cut)
    with BuildSketch(Plane(origin=(0, 0, 0), x_dir=(1, 0, 0), z_dir=(0, 1, 0))):
        with BuildLine():
            Line((-48.4, 12.151203914), (-48.4, -12.151203914))
            ThreePointArc((-48.4, -12.151203914), (-47.79906628, -13.773402604), (-46.286322418, -14.612602183))
            ThreePointArc((-46.286322418, -14.612602183), (-43.456956945, -15.955525197), (-41.833947517, -18.63406801))
            ThreePointArc((-41.833947517, -18.63406801), (-40.94758788, -19.979013629), (-39.423420787, -20.5))
            Line((-39.423420787, -20.5), (40.207977783, -20.5))
            ThreePointArc((40.207977783, -20.5), (41.419271502, -20.057764768), (42.060696328, -18.939114391))
            ThreePointArc((42.060696328, -18.939114391), (43.712891101, -15.670049726), (46.913111931, -13.888163649))
            ThreePointArc((46.913111931, -13.888163649), (47.981754157, -13.231956241), (48.4, -12.049723275))
            Line((48.4, -12.049723275), (48.4, 12.049723275))
            ThreePointArc((48.4, 12.049723275), (47.981754157, 13.231956241), (46.913111931, 13.888163649))
            ThreePointArc((46.913111931, 13.888163649), (43.712891101, 15.670049726), (42.060696328, 18.939114391))
            ThreePointArc((42.060696328, 18.939114391), (41.419271502, 20.057764768), (40.207977783, 20.5))
            Line((40.207977783, 20.5), (-39.423420787, 20.5))
            ThreePointArc((-39.423420787, 20.5), (-40.94758788, 19.979013629), (-41.833947517, 18.63406801))
            ThreePointArc((-41.833947517, 18.63406801), (-43.456956895, 15.955525241), (-46.286322286, 14.612602203))
            ThreePointArc((-46.286322286, 14.612602203), (-47.799066237, 13.773402654), (-48.4, 12.151203914))
        make_face()
    extrude(amount=CUT_EXTRUDE14_DEPTH, mode=Mode.SUBTRACT)

    # Sketch23 → Cut-Extrude15 (cut)
    with BuildSketch(Plane(origin=(0, 0, 0), x_dir=(1, 0, 0), z_dir=(0, 1, 0))):
        with BuildLine():
            Line((-48.4, 12.151203914), (-48.4, 0))
            Line((-48.4, 0), (-22.4, 0))
            Line((-22.4, 0), (-22.4, 20.5))
            Line((-22.4, 20.5), (-39.423420787, 20.5))
            ThreePointArc((-39.423420787, 20.5), (-40.94758788, 19.979013629), (-41.833947517, 18.63406801))
            ThreePointArc((-41.833947517, 18.63406801), (-43.456956895, 15.955525241), (-46.286322286, 14.612602203))
            ThreePointArc((-46.286322286, 14.612602203), (-47.799066237, 13.773402654), (-48.4, 12.151203914))
        make_face()
    extrude(amount=CUT_EXTRUDE15_DEPTH, mode=Mode.SUBTRACT)

    # Sketch24 → Cut-Extrude16 (cut)
    with BuildSketch(Plane(origin=(0, 20, 0), x_dir=(1, 0, 0), z_dir=(0, 1, 0)).offset(CUT_EXTRUDE16_START)):
        with BuildLine():
            Line((-48.4, 12.151203914), (-48.4, 0))
            Line((-48.4, 0), (-22.4, 0))
            Line((-22.4, 0), (-22.4, 20.5))
            Line((-22.4, 20.5), (-39.423420787, 20.5))
            ThreePointArc((-39.423420787, 20.5), (-40.94758788, 19.979013629), (-41.833947517, 18.63406801))
            ThreePointArc((-41.833947517, 18.63406801), (-43.456956895, 15.955525241), (-46.286322286, 14.612602203))
            ThreePointArc((-46.286322286, 14.612602203), (-47.799066237, 13.773402654), (-48.4, 12.151203914))
        make_face()
    extrude(amount=CUT_EXTRUDE16_DEPTH, mode=Mode.SUBTRACT)


solid = part.part
